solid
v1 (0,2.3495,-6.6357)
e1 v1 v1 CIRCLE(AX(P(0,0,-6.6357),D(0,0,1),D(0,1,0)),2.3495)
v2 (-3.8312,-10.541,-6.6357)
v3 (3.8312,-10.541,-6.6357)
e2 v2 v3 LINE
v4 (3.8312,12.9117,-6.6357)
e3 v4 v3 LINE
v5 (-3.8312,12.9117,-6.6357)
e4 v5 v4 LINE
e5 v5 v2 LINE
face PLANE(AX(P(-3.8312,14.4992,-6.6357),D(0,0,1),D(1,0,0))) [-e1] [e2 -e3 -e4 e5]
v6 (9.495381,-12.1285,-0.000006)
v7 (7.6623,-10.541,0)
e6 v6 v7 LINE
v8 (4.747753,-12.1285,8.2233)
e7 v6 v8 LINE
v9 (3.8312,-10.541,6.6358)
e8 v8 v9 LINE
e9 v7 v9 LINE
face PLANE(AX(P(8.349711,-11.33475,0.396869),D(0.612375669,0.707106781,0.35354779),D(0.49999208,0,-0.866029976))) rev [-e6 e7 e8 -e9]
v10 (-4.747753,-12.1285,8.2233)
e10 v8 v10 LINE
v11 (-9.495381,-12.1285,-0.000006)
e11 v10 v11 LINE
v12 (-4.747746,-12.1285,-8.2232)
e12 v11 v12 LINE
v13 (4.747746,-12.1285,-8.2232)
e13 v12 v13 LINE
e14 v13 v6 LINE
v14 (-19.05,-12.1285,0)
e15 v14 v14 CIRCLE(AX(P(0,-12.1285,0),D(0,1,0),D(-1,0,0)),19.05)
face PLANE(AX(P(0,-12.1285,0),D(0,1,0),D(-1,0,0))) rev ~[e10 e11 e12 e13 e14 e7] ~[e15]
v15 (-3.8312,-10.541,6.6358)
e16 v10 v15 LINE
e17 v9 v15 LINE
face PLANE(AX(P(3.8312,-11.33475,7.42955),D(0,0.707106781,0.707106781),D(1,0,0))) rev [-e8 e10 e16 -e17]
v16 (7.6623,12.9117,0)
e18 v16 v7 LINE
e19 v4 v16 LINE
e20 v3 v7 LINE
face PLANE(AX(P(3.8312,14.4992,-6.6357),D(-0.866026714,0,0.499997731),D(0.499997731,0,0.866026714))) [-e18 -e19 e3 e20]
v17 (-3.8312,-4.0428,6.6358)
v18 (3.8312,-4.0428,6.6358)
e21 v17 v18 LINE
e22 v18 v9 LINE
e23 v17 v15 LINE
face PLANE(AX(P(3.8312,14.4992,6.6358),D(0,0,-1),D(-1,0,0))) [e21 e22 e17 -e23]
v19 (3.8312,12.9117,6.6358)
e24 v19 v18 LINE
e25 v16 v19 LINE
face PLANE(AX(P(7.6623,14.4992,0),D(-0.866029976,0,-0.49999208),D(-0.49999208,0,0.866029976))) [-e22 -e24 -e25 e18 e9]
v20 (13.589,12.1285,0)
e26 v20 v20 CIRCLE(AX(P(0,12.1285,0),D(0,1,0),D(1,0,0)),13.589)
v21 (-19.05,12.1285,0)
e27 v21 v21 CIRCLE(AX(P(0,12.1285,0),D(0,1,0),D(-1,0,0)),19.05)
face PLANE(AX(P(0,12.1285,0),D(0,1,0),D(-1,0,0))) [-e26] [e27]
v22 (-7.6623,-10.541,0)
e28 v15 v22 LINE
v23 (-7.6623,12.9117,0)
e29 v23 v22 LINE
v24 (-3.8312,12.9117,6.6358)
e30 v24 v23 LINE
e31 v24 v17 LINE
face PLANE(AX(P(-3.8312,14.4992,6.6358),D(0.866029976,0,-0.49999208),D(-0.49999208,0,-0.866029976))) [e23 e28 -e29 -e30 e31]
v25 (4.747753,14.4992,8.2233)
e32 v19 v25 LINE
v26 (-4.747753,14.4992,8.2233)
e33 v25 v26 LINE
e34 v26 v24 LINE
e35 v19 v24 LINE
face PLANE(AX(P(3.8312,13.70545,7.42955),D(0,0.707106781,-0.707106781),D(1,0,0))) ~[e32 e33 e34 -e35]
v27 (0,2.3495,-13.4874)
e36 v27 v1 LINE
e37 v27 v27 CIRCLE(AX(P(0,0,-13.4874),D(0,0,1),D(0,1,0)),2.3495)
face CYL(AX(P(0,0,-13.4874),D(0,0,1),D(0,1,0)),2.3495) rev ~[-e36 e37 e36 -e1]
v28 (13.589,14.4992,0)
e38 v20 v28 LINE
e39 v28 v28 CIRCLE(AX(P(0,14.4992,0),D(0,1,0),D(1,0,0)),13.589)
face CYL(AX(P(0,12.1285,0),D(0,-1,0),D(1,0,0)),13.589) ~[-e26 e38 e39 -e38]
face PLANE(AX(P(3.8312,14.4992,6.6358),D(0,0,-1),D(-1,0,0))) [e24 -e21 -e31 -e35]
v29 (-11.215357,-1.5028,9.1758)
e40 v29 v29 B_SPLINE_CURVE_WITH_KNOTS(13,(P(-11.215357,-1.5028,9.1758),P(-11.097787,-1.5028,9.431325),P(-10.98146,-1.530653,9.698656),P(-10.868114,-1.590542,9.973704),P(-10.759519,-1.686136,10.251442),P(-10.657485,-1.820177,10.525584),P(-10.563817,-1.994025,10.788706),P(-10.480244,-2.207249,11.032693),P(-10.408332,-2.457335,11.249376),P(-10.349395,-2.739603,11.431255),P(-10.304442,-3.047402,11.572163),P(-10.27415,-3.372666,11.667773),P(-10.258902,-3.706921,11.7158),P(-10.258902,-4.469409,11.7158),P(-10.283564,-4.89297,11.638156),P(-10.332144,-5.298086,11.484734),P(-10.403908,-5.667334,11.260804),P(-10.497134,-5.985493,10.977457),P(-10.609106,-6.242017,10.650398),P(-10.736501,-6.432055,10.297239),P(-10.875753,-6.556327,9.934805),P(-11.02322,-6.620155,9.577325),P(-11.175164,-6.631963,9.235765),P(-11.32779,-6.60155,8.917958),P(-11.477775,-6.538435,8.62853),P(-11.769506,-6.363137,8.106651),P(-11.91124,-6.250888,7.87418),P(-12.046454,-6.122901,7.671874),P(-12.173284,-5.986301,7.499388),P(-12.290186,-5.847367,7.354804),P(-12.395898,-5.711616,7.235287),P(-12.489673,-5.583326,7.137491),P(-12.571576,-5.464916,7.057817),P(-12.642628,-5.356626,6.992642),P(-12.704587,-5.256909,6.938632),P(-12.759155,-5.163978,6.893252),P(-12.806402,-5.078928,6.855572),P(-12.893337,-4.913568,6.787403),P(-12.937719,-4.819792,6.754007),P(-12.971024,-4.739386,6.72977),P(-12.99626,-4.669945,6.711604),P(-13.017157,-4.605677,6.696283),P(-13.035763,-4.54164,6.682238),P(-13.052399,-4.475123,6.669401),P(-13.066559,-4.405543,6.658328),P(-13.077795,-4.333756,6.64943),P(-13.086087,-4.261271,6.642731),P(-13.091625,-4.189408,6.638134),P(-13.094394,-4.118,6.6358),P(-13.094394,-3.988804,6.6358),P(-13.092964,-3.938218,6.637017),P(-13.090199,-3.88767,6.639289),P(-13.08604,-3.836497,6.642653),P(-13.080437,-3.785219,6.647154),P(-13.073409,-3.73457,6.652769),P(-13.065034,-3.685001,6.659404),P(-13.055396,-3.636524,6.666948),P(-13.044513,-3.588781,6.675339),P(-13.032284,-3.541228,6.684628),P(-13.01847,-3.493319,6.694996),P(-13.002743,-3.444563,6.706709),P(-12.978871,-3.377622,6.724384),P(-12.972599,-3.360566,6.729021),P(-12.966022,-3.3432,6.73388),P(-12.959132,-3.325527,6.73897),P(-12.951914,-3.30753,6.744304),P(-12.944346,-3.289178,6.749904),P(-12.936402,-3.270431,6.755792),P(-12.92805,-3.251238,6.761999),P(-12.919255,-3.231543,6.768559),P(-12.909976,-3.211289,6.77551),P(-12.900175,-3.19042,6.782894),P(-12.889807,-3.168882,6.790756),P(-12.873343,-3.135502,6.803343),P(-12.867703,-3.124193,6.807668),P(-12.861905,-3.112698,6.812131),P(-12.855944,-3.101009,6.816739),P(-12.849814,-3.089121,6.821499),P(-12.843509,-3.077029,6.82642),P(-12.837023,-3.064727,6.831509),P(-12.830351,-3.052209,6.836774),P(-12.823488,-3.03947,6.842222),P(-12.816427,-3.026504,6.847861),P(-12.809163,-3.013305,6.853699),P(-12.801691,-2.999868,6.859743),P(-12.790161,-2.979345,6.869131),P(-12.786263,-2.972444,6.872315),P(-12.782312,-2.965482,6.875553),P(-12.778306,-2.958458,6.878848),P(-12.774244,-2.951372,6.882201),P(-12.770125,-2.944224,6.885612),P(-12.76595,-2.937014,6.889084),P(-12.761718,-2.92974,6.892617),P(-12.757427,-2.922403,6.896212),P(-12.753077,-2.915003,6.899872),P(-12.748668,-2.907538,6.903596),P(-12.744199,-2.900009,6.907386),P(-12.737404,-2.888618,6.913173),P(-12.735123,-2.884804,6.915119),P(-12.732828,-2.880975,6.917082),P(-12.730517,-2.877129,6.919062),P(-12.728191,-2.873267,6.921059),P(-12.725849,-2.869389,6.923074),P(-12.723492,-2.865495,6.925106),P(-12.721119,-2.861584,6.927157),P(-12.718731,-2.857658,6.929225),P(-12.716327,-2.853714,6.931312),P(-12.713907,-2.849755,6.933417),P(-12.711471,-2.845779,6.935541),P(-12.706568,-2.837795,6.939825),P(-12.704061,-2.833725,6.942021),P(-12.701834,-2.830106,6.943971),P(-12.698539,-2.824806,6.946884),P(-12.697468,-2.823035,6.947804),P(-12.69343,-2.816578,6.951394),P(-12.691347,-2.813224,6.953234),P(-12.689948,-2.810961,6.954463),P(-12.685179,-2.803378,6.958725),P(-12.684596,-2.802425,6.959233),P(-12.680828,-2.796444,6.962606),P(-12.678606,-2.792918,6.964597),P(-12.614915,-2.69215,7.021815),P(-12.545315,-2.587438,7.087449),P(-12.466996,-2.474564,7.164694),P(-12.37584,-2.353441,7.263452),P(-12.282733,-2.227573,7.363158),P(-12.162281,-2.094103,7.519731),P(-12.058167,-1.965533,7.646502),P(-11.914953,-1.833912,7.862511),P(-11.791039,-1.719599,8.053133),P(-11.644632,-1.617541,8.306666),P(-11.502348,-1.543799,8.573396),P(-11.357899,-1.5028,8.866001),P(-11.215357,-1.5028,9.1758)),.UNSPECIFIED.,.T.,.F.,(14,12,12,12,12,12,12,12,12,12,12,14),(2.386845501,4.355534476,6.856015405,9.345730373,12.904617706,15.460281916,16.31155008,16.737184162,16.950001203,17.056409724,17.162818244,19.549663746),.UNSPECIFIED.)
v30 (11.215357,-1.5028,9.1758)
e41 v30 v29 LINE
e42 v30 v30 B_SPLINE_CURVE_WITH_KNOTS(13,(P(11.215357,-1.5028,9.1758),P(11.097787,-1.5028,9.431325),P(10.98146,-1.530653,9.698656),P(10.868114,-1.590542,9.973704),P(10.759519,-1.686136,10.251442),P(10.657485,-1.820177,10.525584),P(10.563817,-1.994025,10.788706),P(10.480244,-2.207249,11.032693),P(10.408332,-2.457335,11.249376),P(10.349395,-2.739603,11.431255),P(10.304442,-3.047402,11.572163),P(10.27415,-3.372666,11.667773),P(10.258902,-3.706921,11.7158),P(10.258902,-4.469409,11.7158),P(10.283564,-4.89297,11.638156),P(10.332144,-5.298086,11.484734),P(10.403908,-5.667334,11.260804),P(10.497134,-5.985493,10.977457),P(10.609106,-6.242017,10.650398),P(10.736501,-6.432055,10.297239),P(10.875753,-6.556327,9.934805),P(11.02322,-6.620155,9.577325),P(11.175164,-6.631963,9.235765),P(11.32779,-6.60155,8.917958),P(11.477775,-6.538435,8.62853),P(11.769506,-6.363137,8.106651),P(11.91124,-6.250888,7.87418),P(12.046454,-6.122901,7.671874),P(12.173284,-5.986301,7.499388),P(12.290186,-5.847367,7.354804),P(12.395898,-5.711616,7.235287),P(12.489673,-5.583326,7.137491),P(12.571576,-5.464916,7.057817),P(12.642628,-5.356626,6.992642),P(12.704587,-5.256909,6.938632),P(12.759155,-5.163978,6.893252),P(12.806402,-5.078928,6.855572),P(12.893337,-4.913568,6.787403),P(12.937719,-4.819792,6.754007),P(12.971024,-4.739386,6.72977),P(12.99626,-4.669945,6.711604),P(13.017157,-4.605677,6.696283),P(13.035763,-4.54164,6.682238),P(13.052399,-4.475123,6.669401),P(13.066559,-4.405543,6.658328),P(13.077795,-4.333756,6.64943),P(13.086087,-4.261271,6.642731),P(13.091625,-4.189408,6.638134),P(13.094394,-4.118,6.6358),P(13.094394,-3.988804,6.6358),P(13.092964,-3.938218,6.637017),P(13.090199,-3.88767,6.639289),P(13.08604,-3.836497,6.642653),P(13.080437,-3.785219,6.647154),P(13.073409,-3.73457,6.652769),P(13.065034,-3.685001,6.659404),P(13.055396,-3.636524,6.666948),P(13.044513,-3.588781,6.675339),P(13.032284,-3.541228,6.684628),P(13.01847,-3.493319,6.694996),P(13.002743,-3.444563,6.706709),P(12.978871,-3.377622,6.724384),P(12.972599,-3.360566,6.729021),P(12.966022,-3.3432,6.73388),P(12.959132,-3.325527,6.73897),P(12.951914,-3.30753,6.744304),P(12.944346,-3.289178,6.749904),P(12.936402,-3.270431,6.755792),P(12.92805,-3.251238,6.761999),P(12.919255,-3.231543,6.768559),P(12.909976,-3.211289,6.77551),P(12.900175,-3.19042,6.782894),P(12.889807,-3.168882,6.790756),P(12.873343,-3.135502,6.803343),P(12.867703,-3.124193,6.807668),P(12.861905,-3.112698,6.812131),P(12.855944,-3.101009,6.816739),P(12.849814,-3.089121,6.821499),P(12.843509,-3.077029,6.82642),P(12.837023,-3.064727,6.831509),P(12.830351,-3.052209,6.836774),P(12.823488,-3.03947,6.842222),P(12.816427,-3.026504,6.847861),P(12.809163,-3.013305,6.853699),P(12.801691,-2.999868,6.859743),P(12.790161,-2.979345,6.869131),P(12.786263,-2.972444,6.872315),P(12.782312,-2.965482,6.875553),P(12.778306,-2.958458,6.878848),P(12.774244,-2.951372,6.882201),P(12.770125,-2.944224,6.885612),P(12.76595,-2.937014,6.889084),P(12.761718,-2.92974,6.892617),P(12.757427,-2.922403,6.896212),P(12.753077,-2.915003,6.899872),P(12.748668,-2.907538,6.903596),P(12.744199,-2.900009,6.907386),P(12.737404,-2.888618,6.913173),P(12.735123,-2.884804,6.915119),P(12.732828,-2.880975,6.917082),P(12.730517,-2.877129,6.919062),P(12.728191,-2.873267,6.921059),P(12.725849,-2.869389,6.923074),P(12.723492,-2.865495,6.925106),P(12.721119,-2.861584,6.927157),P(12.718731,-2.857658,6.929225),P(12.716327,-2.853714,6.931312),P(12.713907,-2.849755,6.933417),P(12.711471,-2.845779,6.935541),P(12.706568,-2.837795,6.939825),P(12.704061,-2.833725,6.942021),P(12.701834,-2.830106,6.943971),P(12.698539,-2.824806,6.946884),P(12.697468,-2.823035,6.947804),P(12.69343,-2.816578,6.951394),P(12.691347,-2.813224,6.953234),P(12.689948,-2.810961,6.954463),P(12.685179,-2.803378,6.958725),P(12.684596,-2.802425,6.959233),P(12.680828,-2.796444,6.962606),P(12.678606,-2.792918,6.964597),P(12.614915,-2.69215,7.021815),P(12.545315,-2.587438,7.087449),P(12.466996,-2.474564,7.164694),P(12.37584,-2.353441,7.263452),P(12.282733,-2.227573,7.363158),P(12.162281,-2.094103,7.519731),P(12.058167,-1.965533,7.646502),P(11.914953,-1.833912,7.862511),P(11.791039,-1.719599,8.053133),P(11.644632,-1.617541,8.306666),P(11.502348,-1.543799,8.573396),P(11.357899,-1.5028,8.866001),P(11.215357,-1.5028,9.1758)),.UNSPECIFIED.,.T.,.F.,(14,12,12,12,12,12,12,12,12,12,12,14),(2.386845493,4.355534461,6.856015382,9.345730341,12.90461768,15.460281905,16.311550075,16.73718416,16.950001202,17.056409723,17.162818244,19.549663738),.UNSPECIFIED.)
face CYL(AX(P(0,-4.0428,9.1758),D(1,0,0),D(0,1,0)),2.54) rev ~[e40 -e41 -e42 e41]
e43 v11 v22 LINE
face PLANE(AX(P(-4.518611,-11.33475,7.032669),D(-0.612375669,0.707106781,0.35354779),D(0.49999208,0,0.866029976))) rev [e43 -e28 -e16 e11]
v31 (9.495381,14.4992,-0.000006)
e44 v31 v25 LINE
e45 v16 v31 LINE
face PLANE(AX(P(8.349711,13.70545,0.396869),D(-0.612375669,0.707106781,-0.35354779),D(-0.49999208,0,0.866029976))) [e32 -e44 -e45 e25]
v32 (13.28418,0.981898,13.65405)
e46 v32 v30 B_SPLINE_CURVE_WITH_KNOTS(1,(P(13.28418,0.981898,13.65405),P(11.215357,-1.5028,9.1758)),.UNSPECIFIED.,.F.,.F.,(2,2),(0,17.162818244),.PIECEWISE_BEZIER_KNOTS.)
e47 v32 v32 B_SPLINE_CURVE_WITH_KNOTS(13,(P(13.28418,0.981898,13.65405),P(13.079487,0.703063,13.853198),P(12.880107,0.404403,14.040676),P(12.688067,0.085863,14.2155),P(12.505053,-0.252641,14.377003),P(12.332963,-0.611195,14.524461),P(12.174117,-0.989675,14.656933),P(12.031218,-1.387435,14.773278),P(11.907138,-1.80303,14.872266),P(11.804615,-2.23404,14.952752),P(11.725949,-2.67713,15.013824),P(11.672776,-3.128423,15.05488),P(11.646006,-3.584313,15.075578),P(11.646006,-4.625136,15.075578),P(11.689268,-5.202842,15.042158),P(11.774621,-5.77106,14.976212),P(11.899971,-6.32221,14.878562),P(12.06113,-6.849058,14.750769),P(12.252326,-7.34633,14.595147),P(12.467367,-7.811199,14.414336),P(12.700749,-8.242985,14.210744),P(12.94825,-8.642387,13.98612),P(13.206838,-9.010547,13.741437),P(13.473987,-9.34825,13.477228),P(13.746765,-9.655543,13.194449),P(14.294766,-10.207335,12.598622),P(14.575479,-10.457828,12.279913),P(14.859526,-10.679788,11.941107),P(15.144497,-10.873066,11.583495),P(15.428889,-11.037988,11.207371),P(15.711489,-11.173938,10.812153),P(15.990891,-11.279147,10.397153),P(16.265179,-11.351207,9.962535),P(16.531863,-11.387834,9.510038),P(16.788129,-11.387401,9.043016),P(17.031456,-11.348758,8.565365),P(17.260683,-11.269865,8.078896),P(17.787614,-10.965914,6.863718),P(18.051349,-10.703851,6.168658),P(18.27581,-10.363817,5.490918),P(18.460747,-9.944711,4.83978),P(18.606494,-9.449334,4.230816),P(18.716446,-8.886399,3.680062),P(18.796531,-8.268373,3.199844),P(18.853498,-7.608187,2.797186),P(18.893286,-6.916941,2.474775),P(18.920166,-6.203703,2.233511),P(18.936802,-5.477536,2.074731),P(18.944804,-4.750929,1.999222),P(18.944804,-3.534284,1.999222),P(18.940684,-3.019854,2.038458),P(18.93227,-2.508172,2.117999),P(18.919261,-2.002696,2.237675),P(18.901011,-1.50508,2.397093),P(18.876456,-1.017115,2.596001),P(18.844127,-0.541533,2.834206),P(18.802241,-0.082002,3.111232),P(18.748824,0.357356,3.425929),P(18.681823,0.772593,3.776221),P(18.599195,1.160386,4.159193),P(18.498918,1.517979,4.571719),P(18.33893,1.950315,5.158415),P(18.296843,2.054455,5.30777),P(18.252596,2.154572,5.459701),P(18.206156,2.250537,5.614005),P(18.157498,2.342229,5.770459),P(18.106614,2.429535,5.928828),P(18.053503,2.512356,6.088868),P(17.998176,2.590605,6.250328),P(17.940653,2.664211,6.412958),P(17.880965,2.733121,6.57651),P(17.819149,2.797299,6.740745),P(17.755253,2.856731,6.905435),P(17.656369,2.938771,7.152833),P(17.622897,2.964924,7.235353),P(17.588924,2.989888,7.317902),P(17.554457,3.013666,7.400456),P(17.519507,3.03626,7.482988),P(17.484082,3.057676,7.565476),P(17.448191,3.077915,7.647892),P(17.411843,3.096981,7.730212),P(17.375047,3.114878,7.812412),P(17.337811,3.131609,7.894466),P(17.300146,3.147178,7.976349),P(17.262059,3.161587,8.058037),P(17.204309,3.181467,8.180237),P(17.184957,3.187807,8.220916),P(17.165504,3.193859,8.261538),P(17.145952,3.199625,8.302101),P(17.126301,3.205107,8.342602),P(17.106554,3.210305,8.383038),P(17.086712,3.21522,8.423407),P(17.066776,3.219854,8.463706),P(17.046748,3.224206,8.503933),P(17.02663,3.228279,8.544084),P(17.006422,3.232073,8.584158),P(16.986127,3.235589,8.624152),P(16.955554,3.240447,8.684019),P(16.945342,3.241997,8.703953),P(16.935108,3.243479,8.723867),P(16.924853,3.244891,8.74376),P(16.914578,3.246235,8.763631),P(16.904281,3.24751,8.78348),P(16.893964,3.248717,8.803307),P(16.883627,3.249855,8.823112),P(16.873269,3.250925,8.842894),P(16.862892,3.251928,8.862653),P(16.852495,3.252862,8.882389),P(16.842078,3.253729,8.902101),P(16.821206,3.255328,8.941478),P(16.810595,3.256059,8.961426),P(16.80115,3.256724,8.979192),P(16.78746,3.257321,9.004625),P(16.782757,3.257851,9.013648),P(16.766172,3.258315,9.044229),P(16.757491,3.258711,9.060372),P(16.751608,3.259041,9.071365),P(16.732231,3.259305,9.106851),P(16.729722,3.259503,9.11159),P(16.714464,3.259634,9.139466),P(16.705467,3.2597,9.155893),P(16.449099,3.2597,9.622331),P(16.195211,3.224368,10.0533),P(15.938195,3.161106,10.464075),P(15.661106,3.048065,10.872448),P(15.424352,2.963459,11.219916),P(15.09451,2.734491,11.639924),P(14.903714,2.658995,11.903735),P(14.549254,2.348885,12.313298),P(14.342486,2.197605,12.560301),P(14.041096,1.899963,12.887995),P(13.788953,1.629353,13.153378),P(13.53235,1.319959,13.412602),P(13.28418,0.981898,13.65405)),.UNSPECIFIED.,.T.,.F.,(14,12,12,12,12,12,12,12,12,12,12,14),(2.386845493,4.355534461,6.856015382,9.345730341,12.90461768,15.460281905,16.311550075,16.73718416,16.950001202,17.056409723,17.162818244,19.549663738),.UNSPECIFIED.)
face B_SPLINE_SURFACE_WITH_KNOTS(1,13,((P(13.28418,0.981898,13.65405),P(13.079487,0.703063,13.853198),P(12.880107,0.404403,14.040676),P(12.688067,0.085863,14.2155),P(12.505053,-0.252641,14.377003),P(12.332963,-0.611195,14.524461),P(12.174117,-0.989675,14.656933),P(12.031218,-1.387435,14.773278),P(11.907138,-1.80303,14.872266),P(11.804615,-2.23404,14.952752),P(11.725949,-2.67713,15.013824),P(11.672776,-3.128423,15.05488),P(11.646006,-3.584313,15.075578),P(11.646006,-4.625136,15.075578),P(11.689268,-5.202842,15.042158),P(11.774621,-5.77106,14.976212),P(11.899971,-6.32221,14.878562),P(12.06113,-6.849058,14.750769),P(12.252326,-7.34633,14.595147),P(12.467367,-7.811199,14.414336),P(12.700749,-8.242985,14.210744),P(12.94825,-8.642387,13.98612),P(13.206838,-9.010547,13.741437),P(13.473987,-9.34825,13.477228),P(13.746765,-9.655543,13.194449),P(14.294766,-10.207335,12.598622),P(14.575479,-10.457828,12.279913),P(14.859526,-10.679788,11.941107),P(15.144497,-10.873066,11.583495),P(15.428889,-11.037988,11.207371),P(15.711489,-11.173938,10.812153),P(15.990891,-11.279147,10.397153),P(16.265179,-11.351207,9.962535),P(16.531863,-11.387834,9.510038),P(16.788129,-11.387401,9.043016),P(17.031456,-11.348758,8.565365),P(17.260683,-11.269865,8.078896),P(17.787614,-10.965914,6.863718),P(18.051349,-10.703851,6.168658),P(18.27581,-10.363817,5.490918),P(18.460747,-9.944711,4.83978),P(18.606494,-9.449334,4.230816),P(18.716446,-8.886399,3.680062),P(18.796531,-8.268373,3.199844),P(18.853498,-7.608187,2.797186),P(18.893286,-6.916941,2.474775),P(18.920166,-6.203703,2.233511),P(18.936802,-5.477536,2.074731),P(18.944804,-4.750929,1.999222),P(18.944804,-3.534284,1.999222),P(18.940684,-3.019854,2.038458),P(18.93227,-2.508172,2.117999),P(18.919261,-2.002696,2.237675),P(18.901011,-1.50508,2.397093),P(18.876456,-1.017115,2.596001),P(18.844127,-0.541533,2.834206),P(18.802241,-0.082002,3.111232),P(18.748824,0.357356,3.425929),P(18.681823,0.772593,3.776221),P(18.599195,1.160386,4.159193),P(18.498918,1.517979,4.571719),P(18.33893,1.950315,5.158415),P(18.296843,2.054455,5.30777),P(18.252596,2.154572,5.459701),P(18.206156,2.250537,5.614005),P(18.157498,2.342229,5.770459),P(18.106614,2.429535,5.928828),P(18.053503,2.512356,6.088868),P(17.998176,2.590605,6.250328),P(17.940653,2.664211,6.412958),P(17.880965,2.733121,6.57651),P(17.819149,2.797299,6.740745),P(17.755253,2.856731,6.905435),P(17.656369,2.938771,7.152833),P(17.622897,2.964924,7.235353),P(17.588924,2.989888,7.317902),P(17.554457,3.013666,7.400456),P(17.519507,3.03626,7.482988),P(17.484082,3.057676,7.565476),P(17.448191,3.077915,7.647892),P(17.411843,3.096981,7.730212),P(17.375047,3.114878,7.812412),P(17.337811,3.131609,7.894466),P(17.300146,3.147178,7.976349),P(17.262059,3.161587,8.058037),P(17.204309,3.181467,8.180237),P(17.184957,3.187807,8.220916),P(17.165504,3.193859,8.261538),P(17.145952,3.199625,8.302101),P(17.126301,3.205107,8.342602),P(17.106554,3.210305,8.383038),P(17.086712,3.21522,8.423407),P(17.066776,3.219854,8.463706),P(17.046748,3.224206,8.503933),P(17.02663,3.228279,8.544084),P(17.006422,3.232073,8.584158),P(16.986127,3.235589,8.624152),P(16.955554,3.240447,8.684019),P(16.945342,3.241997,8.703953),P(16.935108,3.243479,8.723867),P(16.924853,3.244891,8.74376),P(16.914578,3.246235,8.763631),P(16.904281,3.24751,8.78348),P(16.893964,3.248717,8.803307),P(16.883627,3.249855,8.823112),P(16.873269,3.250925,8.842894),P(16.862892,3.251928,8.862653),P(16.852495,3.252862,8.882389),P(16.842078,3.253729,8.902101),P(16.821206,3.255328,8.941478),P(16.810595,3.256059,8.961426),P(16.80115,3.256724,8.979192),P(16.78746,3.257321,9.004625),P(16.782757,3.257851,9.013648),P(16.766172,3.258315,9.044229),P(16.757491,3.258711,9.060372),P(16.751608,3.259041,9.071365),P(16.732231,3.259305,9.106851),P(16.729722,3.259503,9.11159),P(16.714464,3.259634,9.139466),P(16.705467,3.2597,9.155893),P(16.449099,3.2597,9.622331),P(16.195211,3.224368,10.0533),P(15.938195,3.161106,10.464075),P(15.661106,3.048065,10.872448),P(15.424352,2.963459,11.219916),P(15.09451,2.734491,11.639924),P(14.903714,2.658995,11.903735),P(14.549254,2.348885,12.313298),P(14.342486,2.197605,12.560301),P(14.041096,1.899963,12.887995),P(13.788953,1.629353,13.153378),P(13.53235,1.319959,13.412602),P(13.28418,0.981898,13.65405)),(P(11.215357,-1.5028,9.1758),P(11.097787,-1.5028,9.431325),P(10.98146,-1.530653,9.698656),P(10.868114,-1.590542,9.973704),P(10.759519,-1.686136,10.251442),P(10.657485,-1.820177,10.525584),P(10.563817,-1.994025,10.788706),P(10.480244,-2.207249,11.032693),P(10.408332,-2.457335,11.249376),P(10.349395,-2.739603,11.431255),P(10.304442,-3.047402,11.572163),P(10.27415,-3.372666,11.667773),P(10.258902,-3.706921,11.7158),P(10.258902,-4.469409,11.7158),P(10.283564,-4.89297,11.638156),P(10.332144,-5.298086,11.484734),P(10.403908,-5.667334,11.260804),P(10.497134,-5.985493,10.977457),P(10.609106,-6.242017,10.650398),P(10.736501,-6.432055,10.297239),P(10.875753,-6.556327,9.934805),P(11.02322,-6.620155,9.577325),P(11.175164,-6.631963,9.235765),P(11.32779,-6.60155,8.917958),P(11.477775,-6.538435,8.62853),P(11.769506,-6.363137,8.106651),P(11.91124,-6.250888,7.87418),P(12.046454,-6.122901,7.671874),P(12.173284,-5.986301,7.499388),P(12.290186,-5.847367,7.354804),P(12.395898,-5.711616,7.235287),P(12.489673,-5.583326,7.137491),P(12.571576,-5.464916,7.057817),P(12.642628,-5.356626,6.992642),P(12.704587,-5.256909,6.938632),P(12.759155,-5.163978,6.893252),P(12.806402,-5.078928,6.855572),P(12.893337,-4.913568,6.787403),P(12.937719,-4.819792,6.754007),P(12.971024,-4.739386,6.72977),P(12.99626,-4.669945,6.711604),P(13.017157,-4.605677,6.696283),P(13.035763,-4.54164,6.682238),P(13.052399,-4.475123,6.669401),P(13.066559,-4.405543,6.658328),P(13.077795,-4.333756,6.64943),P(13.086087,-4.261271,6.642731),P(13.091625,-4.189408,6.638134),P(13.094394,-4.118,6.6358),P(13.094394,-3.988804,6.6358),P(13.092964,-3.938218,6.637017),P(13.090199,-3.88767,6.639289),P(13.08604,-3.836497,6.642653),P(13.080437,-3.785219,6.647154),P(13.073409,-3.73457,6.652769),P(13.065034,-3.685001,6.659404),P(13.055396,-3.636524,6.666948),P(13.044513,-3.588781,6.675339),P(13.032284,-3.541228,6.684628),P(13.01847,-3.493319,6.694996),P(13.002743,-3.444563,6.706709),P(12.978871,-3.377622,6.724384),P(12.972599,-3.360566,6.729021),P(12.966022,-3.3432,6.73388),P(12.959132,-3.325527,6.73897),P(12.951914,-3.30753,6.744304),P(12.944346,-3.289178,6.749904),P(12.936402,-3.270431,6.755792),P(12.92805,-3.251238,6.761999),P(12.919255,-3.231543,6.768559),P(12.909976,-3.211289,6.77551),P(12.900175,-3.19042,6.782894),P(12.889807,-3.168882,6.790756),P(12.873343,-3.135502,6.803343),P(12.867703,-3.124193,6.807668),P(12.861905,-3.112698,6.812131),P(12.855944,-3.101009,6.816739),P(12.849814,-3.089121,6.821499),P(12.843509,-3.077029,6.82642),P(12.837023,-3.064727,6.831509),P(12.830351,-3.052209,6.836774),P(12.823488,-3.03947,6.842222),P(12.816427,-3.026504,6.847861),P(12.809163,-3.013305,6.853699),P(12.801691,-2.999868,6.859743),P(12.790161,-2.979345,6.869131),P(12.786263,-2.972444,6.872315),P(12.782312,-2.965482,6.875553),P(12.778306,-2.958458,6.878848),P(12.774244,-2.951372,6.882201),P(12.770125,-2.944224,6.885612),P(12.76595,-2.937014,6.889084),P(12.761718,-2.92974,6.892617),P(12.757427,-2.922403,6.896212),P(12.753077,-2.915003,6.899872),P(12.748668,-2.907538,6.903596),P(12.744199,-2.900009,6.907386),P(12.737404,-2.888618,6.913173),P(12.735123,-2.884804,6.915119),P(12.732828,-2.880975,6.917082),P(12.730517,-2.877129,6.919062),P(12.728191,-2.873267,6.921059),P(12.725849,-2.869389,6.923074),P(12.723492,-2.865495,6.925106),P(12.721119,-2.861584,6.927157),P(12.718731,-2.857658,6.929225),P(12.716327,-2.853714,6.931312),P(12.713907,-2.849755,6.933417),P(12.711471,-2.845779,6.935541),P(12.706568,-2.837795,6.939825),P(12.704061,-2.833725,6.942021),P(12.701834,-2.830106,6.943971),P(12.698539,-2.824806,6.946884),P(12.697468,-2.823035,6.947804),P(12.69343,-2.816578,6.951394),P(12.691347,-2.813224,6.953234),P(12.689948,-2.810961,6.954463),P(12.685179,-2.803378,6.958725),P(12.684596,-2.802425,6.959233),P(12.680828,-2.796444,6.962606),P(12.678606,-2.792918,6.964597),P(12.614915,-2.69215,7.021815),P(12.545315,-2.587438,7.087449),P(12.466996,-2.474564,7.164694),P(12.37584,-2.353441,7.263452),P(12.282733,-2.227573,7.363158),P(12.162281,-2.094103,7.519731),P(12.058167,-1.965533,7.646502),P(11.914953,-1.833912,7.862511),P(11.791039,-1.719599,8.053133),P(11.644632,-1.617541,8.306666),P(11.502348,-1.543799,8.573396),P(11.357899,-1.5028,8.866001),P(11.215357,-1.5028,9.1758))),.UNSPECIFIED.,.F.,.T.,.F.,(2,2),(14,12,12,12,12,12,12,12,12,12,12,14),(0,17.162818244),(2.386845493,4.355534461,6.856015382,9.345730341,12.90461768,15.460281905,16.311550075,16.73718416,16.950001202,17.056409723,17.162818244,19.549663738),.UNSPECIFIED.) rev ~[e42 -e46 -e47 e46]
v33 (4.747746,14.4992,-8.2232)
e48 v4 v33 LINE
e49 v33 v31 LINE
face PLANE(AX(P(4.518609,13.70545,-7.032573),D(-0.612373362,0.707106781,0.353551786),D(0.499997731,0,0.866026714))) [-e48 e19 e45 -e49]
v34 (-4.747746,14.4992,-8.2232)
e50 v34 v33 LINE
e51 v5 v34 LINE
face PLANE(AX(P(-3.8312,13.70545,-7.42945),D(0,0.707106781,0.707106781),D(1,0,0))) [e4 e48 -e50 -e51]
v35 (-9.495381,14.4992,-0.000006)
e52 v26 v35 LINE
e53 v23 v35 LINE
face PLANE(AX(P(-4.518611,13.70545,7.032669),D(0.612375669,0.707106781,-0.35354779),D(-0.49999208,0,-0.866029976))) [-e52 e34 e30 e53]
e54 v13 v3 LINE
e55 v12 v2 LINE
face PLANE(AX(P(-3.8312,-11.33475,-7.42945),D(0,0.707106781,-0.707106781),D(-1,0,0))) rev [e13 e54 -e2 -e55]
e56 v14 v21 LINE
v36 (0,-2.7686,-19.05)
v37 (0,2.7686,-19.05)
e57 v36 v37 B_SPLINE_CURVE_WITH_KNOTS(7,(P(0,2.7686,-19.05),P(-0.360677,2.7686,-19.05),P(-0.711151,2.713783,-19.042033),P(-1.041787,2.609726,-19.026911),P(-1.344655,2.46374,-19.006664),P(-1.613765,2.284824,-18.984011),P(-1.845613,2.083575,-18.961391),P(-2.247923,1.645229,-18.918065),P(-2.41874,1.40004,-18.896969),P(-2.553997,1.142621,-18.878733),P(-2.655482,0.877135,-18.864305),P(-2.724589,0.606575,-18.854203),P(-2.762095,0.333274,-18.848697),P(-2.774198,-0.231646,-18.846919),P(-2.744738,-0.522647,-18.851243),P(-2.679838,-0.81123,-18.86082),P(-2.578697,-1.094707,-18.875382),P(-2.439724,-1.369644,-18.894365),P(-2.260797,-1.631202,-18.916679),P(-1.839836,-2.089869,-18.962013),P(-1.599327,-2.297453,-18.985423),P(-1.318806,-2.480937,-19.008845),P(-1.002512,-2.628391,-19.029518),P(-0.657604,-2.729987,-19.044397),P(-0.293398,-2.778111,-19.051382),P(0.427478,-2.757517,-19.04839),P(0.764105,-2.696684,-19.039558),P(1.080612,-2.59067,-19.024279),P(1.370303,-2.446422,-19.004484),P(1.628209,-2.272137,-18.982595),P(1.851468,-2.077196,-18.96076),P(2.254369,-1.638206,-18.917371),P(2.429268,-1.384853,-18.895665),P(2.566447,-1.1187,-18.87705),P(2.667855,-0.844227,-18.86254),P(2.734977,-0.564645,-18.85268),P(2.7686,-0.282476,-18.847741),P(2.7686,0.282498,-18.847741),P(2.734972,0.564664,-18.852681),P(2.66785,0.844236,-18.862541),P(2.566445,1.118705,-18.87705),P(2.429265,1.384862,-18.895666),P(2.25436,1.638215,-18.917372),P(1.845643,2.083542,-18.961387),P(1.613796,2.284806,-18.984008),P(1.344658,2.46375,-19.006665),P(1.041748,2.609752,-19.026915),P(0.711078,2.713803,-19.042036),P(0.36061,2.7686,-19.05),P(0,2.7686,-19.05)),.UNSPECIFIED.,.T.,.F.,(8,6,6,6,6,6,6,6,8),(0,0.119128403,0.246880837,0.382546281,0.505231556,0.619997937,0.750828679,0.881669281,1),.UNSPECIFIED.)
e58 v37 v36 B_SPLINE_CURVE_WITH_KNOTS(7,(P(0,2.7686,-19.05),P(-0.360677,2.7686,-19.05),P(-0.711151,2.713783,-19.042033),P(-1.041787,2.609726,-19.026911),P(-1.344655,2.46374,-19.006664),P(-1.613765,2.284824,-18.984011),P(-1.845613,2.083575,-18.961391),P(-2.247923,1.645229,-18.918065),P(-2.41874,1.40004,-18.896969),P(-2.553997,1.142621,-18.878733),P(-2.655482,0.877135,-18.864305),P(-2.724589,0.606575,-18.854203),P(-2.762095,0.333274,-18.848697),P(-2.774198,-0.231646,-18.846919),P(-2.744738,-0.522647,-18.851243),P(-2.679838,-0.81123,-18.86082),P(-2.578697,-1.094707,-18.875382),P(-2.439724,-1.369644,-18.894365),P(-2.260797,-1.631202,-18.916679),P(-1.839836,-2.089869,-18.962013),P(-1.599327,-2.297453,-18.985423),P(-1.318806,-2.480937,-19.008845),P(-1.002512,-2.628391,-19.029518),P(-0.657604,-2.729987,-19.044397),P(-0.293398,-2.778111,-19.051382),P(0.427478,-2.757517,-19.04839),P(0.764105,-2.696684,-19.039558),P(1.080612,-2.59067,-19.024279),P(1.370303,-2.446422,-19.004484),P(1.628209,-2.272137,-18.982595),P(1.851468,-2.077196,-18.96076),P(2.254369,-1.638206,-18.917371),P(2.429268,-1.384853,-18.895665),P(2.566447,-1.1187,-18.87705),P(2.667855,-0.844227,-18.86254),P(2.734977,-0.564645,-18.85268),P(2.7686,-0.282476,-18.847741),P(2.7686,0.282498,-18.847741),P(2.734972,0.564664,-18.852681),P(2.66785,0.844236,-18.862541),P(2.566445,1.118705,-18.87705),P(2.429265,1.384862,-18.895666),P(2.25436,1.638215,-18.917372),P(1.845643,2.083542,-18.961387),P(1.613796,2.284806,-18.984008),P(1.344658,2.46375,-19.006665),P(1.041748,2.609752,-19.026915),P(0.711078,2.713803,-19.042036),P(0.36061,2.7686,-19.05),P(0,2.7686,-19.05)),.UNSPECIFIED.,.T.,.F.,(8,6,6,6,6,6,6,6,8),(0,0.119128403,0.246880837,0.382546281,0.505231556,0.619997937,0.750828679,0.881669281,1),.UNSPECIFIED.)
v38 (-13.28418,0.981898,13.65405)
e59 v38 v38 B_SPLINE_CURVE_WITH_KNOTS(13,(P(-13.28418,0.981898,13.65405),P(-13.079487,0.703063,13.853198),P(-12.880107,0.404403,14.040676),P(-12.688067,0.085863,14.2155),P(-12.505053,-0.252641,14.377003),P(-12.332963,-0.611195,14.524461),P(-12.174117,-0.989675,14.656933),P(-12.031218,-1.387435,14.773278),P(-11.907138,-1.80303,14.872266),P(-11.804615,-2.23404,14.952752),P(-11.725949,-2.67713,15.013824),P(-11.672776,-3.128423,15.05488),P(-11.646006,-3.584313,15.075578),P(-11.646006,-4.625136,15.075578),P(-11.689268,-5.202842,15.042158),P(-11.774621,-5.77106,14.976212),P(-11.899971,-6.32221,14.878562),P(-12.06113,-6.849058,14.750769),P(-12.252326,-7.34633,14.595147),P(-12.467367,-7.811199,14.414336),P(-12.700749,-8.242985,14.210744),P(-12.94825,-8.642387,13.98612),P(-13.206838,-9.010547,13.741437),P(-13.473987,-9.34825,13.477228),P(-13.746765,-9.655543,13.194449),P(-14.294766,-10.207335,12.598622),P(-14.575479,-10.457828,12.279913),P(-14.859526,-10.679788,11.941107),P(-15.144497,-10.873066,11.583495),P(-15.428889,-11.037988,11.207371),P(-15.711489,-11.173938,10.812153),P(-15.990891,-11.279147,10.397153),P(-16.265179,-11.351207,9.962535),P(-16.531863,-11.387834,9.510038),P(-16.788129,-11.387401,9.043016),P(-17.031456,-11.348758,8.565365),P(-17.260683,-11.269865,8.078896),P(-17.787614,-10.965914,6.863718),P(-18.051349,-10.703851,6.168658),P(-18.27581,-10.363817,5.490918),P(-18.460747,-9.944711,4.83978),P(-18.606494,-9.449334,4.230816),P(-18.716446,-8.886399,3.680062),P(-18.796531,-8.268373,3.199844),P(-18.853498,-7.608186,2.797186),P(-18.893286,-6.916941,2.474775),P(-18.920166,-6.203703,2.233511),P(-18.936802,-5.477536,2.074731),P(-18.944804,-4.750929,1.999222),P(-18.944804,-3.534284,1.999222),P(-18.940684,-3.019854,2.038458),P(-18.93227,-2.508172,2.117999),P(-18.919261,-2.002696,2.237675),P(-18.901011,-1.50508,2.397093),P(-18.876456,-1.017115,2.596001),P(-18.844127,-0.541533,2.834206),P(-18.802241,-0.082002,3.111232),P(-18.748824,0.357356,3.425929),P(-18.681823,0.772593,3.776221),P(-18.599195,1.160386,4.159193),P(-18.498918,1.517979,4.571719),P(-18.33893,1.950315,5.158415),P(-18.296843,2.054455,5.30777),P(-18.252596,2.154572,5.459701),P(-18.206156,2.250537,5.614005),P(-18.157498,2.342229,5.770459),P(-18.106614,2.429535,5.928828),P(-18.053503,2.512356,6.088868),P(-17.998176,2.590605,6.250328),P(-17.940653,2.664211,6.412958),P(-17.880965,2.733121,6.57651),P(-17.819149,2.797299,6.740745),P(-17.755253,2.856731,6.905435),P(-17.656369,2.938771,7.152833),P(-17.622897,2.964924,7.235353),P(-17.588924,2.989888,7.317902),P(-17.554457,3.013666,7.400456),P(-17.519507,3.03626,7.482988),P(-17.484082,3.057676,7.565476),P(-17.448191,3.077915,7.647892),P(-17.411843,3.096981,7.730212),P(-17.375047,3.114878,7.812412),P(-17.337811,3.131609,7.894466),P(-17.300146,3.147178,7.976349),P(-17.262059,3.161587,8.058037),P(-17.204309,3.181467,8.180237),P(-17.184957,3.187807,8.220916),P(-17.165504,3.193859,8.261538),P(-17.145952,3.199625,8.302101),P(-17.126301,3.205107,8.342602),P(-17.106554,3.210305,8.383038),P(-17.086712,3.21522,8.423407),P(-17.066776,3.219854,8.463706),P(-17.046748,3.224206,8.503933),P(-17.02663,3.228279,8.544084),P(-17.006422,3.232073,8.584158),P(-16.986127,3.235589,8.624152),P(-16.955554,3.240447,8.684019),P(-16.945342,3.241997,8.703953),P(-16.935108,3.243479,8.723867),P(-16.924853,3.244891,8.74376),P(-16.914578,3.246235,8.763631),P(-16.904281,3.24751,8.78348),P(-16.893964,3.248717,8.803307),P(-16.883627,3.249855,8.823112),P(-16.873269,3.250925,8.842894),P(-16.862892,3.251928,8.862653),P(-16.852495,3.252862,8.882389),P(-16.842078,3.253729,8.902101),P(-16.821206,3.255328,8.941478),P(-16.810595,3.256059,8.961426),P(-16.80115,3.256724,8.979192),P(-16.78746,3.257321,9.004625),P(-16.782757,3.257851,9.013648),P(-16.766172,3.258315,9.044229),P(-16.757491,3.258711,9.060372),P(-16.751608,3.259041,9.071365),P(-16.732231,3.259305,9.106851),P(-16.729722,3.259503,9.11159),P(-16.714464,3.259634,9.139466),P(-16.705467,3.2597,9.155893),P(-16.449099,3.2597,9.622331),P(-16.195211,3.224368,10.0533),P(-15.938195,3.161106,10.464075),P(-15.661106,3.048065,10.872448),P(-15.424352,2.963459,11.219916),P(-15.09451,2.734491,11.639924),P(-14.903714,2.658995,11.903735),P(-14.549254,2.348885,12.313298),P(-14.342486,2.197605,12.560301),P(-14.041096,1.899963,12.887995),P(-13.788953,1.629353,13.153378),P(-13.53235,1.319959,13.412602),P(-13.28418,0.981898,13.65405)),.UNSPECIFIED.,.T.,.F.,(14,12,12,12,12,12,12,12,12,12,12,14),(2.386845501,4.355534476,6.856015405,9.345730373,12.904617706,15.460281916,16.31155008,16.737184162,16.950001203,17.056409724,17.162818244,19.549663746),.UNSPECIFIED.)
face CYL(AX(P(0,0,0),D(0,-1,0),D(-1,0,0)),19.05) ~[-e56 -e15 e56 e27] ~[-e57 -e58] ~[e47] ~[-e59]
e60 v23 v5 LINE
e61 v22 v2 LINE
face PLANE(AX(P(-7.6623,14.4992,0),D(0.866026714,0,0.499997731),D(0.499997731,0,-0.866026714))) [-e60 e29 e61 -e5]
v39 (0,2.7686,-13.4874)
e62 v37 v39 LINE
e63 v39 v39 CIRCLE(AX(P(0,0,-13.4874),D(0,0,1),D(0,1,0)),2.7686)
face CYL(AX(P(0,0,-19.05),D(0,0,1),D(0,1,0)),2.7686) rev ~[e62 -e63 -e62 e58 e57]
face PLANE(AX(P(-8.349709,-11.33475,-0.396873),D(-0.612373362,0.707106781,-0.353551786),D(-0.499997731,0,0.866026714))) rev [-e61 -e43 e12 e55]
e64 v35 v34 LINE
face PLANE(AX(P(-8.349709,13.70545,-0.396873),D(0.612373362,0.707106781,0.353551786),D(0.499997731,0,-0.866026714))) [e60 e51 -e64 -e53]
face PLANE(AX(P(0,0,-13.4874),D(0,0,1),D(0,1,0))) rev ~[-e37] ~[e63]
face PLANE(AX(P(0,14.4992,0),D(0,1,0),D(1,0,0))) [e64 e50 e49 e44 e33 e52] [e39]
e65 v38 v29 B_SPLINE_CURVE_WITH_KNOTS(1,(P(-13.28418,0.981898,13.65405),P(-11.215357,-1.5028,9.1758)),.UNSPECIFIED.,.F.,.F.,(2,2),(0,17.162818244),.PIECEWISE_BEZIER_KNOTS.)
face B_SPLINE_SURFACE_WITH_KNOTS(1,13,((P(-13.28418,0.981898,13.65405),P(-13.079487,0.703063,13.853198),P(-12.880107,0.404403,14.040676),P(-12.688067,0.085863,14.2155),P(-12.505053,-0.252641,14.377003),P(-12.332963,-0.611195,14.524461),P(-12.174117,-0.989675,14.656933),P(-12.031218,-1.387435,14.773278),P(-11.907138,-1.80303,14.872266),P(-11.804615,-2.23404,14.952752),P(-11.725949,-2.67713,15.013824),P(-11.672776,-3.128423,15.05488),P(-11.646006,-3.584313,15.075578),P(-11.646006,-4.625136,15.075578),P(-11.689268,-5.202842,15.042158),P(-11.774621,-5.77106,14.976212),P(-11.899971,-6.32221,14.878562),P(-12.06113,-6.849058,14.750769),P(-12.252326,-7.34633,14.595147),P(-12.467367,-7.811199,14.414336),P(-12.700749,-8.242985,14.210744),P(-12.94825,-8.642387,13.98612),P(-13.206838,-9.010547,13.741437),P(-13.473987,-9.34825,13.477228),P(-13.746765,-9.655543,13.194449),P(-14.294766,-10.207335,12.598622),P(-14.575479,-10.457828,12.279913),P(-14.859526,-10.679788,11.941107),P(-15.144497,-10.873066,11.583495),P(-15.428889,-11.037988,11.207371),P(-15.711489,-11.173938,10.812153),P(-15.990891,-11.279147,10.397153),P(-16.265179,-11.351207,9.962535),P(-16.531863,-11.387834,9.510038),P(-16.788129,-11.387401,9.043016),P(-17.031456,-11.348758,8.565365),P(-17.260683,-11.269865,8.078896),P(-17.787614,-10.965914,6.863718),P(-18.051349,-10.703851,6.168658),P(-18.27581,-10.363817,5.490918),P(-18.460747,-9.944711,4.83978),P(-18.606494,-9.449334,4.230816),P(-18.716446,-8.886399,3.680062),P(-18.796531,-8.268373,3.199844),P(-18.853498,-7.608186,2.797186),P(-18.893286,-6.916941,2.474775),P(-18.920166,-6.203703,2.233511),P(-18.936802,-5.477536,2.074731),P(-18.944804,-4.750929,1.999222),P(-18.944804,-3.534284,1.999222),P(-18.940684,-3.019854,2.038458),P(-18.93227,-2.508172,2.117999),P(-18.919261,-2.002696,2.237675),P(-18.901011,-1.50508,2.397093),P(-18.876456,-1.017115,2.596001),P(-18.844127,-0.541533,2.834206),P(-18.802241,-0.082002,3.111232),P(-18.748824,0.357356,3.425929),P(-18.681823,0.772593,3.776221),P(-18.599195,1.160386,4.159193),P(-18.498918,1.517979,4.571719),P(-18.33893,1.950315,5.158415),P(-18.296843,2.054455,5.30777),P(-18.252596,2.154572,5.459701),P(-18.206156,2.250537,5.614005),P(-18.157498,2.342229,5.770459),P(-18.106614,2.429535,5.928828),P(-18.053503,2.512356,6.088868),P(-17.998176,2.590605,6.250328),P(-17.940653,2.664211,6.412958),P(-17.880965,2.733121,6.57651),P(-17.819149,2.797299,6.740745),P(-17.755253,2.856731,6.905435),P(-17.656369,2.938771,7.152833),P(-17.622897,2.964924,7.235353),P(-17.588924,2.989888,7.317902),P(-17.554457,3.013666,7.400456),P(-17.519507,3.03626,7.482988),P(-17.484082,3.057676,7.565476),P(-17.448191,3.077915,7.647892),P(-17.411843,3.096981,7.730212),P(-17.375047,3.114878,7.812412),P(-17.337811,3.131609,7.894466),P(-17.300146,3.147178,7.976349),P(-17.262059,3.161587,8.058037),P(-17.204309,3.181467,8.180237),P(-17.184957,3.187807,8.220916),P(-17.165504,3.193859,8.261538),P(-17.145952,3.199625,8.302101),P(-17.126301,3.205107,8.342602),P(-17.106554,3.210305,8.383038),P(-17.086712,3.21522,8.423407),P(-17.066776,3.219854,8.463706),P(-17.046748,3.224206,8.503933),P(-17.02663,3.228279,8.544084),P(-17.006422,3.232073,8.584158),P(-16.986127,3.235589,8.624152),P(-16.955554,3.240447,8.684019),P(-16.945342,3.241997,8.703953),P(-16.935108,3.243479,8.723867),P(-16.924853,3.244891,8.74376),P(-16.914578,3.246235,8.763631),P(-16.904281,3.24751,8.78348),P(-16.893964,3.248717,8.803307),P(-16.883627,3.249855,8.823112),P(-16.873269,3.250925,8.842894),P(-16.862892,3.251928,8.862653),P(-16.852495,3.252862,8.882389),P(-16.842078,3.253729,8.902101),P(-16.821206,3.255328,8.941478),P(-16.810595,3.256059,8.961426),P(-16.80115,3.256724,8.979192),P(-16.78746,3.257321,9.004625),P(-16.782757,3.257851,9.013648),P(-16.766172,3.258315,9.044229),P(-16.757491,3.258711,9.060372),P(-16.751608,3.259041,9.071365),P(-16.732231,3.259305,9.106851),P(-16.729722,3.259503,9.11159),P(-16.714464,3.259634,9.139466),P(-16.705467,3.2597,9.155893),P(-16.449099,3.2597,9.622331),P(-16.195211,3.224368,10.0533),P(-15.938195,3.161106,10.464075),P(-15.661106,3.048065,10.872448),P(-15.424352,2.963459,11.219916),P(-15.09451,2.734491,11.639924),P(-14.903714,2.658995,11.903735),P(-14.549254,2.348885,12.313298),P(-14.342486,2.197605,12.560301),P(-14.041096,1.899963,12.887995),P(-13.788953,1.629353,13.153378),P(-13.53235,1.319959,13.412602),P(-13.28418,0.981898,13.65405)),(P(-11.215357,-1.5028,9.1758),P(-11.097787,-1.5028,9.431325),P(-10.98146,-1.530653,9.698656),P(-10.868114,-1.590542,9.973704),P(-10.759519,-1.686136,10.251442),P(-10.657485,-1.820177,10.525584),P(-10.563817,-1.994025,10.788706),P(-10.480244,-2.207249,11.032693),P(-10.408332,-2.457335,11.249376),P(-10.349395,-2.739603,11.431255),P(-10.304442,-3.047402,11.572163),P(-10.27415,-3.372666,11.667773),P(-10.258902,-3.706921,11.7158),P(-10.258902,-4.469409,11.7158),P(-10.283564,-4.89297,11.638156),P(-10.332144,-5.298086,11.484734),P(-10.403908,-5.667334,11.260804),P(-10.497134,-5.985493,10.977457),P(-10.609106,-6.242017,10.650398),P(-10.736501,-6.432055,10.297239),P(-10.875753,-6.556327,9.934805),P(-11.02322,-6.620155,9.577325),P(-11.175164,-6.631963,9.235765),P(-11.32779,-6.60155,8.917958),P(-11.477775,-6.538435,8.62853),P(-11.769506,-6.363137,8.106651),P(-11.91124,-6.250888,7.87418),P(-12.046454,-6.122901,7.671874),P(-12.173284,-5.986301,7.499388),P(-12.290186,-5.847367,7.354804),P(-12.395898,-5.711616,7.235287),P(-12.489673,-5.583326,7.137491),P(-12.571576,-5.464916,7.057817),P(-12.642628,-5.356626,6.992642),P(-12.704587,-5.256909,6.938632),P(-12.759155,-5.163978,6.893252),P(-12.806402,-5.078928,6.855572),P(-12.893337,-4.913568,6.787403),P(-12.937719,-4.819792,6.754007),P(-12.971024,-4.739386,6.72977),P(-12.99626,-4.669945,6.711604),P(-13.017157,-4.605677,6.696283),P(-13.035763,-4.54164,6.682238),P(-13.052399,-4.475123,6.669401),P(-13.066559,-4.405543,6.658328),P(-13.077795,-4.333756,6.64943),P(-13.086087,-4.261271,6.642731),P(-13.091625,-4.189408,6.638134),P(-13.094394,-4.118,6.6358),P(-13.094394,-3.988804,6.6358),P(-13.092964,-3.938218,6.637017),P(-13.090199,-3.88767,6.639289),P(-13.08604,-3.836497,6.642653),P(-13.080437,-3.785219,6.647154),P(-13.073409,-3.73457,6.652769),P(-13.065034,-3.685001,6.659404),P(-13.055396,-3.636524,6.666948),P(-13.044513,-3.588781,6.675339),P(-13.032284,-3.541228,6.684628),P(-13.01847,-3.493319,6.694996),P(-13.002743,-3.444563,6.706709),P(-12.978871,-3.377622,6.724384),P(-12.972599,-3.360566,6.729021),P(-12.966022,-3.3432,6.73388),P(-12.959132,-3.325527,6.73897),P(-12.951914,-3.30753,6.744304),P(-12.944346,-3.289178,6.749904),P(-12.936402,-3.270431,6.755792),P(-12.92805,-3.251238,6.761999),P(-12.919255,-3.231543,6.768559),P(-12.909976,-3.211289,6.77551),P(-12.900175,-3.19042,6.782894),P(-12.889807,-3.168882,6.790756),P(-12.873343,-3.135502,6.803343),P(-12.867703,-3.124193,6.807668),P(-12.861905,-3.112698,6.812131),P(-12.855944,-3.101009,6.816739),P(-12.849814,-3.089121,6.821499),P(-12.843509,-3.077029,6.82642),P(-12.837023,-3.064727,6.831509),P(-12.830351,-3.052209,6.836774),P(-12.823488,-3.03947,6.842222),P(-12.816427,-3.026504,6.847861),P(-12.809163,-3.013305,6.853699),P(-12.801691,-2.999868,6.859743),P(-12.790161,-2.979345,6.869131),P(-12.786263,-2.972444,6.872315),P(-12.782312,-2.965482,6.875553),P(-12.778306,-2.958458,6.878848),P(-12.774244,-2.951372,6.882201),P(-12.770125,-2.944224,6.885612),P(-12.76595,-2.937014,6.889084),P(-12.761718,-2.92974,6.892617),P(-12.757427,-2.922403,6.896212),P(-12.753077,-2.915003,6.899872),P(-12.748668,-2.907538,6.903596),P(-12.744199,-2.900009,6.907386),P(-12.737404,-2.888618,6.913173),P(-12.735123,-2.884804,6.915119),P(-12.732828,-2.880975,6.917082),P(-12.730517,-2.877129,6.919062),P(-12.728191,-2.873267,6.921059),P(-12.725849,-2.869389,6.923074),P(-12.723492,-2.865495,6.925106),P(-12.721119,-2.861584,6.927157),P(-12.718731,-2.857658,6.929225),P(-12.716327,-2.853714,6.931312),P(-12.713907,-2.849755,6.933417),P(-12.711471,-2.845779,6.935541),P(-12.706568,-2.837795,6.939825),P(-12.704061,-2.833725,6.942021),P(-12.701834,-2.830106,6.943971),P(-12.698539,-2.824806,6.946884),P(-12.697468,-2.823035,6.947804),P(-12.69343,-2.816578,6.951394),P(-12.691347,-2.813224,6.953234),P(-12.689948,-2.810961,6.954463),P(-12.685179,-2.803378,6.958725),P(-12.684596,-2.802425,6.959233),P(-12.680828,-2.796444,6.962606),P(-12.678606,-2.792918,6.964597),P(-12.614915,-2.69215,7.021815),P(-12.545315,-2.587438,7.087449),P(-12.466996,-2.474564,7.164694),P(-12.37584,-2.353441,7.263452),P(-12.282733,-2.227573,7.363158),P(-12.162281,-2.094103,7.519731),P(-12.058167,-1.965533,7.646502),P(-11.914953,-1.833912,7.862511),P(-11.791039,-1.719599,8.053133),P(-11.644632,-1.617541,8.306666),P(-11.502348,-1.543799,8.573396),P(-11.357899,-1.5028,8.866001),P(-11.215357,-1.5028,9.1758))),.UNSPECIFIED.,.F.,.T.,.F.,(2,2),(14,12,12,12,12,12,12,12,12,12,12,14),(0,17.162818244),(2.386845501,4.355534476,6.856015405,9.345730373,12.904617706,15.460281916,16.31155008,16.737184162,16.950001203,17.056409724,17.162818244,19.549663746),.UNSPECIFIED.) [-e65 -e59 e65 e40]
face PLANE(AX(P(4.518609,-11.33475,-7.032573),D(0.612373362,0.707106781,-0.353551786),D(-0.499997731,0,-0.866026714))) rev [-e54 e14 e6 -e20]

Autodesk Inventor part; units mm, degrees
ref_plane "YZ Plane" through (0, 0, 0) normal (1, 0, 0) x (0, 1, 0)
ref_plane "XZ Plane" through (0, 0, 0) normal (0, 1, 0) x (-1, 0, 0)
sketch "Sketch9" plane through (0, 0, 0) normal (0, 1, 0) x (-1, 0, 0)
  circle A0 centre (0, 0) radius 19.05
  dimension "d53" = 38.1
extrude "Extrusion6" add sketch "Sketch9" along normal mid plane 24.257
sketch "Sketch10" plane through (0, 12.1285, 0) normal (0, 1, 0) x (1, 0, 0)
  circle A0 centre (0, 0) radius 13.589
  dimension "idWasher" = 27.178
extrude "Extrusion7" add sketch "Sketch10" along normal blind 2.3707
sketch "Sketch11" plane through (0, 14.4992, 0) normal (0, 1, 0) x (1, 0, 0)
  line L0 (7.6623, 0) -> (3.8312, -6.6358)
  line L1 (3.8312, -6.6358) -> (-3.8312, -6.6358)
  line L2 (-3.8312, -6.6358) -> (-7.6623, 0)
  line L3 (-7.6623, 0) -> (-3.8312, 6.6357)
  line L4 (-3.8312, 6.6357) -> (3.8312, 6.6357)
  line L5 (3.8312, 6.6357) -> (7.6623, 0)
  point P0 (0, 0)
  point P1 (0, 0)
  dimension "d59" = 13.2715
extrude "Extrusion8" cut sketch "Sketch11" against normal through all
sketch "Sketch12" plane through (0, 0, 0) normal (1, 0, 0) x (0, 1, 0)
  circle A0 centre (-4.0428, 9.1758) radius 2.54
  line L0 (14.4992, 0) -> (-12.1285, 0) projected
  line L1 (-12.1285, 19.05) -> (-12.1285, -19.05) projected
  point P0 (0, 0)
  dimension "d62" = 5.08
  dimension "d63" = 9.1758
  dimension "oneThirdSpoolHeight" = 8.0857
extrude "Extrusion9" cut sketch "Sketch12" along normal through all both and the other way through all
chamfer "Chamfer5" distance 4.7625 angle 45 2 edges at (16.6229, -6.5796, 9.3048) (-16.6229, -6.5796, 9.3048)
ref_plane "Work Plane2" through (0, 0, -19.05) normal (0, 0, 1) x (1, 0, 0)
sketch "Sketch13" plane through (0, 0, -19.05) normal (0, 0, 1) x (1, 0, 0)
  point P0 (0, 0)
  point P1 (0, 0)
hole "Hole2" at (0, 0, -19.05) direction (0, 0, 1) diameter 4.699 depth 12.4143 counterbore diameter 5.5372 counterbore depth 5.5626
chamfer "Chamfer6" distance 1.5875 angle 45 12 edges at (-5.7467, 14.4992, -3.3179) (0, 14.4992, -6.6357) (5.7467, 14.4992, -3.3179) (5.7467, 14.4992, 3.3179) (0, 14.4992, 6.6358) (-5.7467, 14.4992, 3.3179) (0, -12.1285, 6.6358) (5.7467, -12.1285, 3.3179) (5.7467, -12.1285, -3.3179) (0, -12.1285, -6.6357) (-5.7467, -12.1285, -3.3179) (-5.7467, -12.1285, 3.3179)
equation "\"d53\" = spoolInteriorDiameter"
equation "\"d59\" = hexDiameter"
equation "\"d62\" = holeForString"
equation "\"d63\" = stringHoleCenterFromHexShaft"
equation "\"oneThirdSpoolHeight\" = 0.333333 * singleSpoolHeight"
equation "\"d67\" = stringHoleChamfer"
equation "\"d77\" = hexHoleChamfer"
equation "\"holeForString\" = stringDiameter + clearanceForString"
equation "\"stringDiameter\" = 3.048"
equation "\"clearanceForString\" = 2.032"
equation "\"spoolHeightWithoutSpacer\" = 69.85"
equation "\"hexShaftDiameter\" = 12.7"
equation "\"clearanceForHexShaft\" = 0.5715"
equation "\"hexDiameter\" = hexShaftDiameter + clearanceForHexShaft"
equation "\"supportChannels\" = 3.81"
equation "\"spoolInteriorDiameter\" = 38.1"
equation "\"spoolInteriroRadius\" = 0.5 * spoolInteriorDiameter"
equation "\"spoolExteriorDiameter\" = 88.9"
equation "\"spoolExteriorRadius\" = 0.5 * spoolExteriorDiameter"
equation "\"spoolFiletRadius\" = 0.5 * supportChannels"
equation "\"holeCenter\" = 0.25 * spoolHeightWithoutSpacer - 0.75 * supportChannels"
equation "\"hexHoleChamfer\" = 1.5875"
equation "\"stringHoleCenterFromHexShaft\" = 0.5 * hexDiameter + 0.5 * holeForString"
equation "\"textCircleDiameter\" = 0.75 * spoolExteriorDiameter"
equation "\"textHeight\" = 6.096"
equation "\"textDepth\" = 1.27"
equation "\"stringHoleChamfer\" = 4.7625"
equation "\"spoolTotalHeight\" = 76.2"
equation "\"spaceHeight\" = spoolTotalHeight - spoolHeightWithoutSpacer"
equation "\"spacerDiameter\" = 24.13"
equation "\"singleSpoolHeight\" = 24.257"
properties part number "spoolV04" material "PC/ABS Plastic"
